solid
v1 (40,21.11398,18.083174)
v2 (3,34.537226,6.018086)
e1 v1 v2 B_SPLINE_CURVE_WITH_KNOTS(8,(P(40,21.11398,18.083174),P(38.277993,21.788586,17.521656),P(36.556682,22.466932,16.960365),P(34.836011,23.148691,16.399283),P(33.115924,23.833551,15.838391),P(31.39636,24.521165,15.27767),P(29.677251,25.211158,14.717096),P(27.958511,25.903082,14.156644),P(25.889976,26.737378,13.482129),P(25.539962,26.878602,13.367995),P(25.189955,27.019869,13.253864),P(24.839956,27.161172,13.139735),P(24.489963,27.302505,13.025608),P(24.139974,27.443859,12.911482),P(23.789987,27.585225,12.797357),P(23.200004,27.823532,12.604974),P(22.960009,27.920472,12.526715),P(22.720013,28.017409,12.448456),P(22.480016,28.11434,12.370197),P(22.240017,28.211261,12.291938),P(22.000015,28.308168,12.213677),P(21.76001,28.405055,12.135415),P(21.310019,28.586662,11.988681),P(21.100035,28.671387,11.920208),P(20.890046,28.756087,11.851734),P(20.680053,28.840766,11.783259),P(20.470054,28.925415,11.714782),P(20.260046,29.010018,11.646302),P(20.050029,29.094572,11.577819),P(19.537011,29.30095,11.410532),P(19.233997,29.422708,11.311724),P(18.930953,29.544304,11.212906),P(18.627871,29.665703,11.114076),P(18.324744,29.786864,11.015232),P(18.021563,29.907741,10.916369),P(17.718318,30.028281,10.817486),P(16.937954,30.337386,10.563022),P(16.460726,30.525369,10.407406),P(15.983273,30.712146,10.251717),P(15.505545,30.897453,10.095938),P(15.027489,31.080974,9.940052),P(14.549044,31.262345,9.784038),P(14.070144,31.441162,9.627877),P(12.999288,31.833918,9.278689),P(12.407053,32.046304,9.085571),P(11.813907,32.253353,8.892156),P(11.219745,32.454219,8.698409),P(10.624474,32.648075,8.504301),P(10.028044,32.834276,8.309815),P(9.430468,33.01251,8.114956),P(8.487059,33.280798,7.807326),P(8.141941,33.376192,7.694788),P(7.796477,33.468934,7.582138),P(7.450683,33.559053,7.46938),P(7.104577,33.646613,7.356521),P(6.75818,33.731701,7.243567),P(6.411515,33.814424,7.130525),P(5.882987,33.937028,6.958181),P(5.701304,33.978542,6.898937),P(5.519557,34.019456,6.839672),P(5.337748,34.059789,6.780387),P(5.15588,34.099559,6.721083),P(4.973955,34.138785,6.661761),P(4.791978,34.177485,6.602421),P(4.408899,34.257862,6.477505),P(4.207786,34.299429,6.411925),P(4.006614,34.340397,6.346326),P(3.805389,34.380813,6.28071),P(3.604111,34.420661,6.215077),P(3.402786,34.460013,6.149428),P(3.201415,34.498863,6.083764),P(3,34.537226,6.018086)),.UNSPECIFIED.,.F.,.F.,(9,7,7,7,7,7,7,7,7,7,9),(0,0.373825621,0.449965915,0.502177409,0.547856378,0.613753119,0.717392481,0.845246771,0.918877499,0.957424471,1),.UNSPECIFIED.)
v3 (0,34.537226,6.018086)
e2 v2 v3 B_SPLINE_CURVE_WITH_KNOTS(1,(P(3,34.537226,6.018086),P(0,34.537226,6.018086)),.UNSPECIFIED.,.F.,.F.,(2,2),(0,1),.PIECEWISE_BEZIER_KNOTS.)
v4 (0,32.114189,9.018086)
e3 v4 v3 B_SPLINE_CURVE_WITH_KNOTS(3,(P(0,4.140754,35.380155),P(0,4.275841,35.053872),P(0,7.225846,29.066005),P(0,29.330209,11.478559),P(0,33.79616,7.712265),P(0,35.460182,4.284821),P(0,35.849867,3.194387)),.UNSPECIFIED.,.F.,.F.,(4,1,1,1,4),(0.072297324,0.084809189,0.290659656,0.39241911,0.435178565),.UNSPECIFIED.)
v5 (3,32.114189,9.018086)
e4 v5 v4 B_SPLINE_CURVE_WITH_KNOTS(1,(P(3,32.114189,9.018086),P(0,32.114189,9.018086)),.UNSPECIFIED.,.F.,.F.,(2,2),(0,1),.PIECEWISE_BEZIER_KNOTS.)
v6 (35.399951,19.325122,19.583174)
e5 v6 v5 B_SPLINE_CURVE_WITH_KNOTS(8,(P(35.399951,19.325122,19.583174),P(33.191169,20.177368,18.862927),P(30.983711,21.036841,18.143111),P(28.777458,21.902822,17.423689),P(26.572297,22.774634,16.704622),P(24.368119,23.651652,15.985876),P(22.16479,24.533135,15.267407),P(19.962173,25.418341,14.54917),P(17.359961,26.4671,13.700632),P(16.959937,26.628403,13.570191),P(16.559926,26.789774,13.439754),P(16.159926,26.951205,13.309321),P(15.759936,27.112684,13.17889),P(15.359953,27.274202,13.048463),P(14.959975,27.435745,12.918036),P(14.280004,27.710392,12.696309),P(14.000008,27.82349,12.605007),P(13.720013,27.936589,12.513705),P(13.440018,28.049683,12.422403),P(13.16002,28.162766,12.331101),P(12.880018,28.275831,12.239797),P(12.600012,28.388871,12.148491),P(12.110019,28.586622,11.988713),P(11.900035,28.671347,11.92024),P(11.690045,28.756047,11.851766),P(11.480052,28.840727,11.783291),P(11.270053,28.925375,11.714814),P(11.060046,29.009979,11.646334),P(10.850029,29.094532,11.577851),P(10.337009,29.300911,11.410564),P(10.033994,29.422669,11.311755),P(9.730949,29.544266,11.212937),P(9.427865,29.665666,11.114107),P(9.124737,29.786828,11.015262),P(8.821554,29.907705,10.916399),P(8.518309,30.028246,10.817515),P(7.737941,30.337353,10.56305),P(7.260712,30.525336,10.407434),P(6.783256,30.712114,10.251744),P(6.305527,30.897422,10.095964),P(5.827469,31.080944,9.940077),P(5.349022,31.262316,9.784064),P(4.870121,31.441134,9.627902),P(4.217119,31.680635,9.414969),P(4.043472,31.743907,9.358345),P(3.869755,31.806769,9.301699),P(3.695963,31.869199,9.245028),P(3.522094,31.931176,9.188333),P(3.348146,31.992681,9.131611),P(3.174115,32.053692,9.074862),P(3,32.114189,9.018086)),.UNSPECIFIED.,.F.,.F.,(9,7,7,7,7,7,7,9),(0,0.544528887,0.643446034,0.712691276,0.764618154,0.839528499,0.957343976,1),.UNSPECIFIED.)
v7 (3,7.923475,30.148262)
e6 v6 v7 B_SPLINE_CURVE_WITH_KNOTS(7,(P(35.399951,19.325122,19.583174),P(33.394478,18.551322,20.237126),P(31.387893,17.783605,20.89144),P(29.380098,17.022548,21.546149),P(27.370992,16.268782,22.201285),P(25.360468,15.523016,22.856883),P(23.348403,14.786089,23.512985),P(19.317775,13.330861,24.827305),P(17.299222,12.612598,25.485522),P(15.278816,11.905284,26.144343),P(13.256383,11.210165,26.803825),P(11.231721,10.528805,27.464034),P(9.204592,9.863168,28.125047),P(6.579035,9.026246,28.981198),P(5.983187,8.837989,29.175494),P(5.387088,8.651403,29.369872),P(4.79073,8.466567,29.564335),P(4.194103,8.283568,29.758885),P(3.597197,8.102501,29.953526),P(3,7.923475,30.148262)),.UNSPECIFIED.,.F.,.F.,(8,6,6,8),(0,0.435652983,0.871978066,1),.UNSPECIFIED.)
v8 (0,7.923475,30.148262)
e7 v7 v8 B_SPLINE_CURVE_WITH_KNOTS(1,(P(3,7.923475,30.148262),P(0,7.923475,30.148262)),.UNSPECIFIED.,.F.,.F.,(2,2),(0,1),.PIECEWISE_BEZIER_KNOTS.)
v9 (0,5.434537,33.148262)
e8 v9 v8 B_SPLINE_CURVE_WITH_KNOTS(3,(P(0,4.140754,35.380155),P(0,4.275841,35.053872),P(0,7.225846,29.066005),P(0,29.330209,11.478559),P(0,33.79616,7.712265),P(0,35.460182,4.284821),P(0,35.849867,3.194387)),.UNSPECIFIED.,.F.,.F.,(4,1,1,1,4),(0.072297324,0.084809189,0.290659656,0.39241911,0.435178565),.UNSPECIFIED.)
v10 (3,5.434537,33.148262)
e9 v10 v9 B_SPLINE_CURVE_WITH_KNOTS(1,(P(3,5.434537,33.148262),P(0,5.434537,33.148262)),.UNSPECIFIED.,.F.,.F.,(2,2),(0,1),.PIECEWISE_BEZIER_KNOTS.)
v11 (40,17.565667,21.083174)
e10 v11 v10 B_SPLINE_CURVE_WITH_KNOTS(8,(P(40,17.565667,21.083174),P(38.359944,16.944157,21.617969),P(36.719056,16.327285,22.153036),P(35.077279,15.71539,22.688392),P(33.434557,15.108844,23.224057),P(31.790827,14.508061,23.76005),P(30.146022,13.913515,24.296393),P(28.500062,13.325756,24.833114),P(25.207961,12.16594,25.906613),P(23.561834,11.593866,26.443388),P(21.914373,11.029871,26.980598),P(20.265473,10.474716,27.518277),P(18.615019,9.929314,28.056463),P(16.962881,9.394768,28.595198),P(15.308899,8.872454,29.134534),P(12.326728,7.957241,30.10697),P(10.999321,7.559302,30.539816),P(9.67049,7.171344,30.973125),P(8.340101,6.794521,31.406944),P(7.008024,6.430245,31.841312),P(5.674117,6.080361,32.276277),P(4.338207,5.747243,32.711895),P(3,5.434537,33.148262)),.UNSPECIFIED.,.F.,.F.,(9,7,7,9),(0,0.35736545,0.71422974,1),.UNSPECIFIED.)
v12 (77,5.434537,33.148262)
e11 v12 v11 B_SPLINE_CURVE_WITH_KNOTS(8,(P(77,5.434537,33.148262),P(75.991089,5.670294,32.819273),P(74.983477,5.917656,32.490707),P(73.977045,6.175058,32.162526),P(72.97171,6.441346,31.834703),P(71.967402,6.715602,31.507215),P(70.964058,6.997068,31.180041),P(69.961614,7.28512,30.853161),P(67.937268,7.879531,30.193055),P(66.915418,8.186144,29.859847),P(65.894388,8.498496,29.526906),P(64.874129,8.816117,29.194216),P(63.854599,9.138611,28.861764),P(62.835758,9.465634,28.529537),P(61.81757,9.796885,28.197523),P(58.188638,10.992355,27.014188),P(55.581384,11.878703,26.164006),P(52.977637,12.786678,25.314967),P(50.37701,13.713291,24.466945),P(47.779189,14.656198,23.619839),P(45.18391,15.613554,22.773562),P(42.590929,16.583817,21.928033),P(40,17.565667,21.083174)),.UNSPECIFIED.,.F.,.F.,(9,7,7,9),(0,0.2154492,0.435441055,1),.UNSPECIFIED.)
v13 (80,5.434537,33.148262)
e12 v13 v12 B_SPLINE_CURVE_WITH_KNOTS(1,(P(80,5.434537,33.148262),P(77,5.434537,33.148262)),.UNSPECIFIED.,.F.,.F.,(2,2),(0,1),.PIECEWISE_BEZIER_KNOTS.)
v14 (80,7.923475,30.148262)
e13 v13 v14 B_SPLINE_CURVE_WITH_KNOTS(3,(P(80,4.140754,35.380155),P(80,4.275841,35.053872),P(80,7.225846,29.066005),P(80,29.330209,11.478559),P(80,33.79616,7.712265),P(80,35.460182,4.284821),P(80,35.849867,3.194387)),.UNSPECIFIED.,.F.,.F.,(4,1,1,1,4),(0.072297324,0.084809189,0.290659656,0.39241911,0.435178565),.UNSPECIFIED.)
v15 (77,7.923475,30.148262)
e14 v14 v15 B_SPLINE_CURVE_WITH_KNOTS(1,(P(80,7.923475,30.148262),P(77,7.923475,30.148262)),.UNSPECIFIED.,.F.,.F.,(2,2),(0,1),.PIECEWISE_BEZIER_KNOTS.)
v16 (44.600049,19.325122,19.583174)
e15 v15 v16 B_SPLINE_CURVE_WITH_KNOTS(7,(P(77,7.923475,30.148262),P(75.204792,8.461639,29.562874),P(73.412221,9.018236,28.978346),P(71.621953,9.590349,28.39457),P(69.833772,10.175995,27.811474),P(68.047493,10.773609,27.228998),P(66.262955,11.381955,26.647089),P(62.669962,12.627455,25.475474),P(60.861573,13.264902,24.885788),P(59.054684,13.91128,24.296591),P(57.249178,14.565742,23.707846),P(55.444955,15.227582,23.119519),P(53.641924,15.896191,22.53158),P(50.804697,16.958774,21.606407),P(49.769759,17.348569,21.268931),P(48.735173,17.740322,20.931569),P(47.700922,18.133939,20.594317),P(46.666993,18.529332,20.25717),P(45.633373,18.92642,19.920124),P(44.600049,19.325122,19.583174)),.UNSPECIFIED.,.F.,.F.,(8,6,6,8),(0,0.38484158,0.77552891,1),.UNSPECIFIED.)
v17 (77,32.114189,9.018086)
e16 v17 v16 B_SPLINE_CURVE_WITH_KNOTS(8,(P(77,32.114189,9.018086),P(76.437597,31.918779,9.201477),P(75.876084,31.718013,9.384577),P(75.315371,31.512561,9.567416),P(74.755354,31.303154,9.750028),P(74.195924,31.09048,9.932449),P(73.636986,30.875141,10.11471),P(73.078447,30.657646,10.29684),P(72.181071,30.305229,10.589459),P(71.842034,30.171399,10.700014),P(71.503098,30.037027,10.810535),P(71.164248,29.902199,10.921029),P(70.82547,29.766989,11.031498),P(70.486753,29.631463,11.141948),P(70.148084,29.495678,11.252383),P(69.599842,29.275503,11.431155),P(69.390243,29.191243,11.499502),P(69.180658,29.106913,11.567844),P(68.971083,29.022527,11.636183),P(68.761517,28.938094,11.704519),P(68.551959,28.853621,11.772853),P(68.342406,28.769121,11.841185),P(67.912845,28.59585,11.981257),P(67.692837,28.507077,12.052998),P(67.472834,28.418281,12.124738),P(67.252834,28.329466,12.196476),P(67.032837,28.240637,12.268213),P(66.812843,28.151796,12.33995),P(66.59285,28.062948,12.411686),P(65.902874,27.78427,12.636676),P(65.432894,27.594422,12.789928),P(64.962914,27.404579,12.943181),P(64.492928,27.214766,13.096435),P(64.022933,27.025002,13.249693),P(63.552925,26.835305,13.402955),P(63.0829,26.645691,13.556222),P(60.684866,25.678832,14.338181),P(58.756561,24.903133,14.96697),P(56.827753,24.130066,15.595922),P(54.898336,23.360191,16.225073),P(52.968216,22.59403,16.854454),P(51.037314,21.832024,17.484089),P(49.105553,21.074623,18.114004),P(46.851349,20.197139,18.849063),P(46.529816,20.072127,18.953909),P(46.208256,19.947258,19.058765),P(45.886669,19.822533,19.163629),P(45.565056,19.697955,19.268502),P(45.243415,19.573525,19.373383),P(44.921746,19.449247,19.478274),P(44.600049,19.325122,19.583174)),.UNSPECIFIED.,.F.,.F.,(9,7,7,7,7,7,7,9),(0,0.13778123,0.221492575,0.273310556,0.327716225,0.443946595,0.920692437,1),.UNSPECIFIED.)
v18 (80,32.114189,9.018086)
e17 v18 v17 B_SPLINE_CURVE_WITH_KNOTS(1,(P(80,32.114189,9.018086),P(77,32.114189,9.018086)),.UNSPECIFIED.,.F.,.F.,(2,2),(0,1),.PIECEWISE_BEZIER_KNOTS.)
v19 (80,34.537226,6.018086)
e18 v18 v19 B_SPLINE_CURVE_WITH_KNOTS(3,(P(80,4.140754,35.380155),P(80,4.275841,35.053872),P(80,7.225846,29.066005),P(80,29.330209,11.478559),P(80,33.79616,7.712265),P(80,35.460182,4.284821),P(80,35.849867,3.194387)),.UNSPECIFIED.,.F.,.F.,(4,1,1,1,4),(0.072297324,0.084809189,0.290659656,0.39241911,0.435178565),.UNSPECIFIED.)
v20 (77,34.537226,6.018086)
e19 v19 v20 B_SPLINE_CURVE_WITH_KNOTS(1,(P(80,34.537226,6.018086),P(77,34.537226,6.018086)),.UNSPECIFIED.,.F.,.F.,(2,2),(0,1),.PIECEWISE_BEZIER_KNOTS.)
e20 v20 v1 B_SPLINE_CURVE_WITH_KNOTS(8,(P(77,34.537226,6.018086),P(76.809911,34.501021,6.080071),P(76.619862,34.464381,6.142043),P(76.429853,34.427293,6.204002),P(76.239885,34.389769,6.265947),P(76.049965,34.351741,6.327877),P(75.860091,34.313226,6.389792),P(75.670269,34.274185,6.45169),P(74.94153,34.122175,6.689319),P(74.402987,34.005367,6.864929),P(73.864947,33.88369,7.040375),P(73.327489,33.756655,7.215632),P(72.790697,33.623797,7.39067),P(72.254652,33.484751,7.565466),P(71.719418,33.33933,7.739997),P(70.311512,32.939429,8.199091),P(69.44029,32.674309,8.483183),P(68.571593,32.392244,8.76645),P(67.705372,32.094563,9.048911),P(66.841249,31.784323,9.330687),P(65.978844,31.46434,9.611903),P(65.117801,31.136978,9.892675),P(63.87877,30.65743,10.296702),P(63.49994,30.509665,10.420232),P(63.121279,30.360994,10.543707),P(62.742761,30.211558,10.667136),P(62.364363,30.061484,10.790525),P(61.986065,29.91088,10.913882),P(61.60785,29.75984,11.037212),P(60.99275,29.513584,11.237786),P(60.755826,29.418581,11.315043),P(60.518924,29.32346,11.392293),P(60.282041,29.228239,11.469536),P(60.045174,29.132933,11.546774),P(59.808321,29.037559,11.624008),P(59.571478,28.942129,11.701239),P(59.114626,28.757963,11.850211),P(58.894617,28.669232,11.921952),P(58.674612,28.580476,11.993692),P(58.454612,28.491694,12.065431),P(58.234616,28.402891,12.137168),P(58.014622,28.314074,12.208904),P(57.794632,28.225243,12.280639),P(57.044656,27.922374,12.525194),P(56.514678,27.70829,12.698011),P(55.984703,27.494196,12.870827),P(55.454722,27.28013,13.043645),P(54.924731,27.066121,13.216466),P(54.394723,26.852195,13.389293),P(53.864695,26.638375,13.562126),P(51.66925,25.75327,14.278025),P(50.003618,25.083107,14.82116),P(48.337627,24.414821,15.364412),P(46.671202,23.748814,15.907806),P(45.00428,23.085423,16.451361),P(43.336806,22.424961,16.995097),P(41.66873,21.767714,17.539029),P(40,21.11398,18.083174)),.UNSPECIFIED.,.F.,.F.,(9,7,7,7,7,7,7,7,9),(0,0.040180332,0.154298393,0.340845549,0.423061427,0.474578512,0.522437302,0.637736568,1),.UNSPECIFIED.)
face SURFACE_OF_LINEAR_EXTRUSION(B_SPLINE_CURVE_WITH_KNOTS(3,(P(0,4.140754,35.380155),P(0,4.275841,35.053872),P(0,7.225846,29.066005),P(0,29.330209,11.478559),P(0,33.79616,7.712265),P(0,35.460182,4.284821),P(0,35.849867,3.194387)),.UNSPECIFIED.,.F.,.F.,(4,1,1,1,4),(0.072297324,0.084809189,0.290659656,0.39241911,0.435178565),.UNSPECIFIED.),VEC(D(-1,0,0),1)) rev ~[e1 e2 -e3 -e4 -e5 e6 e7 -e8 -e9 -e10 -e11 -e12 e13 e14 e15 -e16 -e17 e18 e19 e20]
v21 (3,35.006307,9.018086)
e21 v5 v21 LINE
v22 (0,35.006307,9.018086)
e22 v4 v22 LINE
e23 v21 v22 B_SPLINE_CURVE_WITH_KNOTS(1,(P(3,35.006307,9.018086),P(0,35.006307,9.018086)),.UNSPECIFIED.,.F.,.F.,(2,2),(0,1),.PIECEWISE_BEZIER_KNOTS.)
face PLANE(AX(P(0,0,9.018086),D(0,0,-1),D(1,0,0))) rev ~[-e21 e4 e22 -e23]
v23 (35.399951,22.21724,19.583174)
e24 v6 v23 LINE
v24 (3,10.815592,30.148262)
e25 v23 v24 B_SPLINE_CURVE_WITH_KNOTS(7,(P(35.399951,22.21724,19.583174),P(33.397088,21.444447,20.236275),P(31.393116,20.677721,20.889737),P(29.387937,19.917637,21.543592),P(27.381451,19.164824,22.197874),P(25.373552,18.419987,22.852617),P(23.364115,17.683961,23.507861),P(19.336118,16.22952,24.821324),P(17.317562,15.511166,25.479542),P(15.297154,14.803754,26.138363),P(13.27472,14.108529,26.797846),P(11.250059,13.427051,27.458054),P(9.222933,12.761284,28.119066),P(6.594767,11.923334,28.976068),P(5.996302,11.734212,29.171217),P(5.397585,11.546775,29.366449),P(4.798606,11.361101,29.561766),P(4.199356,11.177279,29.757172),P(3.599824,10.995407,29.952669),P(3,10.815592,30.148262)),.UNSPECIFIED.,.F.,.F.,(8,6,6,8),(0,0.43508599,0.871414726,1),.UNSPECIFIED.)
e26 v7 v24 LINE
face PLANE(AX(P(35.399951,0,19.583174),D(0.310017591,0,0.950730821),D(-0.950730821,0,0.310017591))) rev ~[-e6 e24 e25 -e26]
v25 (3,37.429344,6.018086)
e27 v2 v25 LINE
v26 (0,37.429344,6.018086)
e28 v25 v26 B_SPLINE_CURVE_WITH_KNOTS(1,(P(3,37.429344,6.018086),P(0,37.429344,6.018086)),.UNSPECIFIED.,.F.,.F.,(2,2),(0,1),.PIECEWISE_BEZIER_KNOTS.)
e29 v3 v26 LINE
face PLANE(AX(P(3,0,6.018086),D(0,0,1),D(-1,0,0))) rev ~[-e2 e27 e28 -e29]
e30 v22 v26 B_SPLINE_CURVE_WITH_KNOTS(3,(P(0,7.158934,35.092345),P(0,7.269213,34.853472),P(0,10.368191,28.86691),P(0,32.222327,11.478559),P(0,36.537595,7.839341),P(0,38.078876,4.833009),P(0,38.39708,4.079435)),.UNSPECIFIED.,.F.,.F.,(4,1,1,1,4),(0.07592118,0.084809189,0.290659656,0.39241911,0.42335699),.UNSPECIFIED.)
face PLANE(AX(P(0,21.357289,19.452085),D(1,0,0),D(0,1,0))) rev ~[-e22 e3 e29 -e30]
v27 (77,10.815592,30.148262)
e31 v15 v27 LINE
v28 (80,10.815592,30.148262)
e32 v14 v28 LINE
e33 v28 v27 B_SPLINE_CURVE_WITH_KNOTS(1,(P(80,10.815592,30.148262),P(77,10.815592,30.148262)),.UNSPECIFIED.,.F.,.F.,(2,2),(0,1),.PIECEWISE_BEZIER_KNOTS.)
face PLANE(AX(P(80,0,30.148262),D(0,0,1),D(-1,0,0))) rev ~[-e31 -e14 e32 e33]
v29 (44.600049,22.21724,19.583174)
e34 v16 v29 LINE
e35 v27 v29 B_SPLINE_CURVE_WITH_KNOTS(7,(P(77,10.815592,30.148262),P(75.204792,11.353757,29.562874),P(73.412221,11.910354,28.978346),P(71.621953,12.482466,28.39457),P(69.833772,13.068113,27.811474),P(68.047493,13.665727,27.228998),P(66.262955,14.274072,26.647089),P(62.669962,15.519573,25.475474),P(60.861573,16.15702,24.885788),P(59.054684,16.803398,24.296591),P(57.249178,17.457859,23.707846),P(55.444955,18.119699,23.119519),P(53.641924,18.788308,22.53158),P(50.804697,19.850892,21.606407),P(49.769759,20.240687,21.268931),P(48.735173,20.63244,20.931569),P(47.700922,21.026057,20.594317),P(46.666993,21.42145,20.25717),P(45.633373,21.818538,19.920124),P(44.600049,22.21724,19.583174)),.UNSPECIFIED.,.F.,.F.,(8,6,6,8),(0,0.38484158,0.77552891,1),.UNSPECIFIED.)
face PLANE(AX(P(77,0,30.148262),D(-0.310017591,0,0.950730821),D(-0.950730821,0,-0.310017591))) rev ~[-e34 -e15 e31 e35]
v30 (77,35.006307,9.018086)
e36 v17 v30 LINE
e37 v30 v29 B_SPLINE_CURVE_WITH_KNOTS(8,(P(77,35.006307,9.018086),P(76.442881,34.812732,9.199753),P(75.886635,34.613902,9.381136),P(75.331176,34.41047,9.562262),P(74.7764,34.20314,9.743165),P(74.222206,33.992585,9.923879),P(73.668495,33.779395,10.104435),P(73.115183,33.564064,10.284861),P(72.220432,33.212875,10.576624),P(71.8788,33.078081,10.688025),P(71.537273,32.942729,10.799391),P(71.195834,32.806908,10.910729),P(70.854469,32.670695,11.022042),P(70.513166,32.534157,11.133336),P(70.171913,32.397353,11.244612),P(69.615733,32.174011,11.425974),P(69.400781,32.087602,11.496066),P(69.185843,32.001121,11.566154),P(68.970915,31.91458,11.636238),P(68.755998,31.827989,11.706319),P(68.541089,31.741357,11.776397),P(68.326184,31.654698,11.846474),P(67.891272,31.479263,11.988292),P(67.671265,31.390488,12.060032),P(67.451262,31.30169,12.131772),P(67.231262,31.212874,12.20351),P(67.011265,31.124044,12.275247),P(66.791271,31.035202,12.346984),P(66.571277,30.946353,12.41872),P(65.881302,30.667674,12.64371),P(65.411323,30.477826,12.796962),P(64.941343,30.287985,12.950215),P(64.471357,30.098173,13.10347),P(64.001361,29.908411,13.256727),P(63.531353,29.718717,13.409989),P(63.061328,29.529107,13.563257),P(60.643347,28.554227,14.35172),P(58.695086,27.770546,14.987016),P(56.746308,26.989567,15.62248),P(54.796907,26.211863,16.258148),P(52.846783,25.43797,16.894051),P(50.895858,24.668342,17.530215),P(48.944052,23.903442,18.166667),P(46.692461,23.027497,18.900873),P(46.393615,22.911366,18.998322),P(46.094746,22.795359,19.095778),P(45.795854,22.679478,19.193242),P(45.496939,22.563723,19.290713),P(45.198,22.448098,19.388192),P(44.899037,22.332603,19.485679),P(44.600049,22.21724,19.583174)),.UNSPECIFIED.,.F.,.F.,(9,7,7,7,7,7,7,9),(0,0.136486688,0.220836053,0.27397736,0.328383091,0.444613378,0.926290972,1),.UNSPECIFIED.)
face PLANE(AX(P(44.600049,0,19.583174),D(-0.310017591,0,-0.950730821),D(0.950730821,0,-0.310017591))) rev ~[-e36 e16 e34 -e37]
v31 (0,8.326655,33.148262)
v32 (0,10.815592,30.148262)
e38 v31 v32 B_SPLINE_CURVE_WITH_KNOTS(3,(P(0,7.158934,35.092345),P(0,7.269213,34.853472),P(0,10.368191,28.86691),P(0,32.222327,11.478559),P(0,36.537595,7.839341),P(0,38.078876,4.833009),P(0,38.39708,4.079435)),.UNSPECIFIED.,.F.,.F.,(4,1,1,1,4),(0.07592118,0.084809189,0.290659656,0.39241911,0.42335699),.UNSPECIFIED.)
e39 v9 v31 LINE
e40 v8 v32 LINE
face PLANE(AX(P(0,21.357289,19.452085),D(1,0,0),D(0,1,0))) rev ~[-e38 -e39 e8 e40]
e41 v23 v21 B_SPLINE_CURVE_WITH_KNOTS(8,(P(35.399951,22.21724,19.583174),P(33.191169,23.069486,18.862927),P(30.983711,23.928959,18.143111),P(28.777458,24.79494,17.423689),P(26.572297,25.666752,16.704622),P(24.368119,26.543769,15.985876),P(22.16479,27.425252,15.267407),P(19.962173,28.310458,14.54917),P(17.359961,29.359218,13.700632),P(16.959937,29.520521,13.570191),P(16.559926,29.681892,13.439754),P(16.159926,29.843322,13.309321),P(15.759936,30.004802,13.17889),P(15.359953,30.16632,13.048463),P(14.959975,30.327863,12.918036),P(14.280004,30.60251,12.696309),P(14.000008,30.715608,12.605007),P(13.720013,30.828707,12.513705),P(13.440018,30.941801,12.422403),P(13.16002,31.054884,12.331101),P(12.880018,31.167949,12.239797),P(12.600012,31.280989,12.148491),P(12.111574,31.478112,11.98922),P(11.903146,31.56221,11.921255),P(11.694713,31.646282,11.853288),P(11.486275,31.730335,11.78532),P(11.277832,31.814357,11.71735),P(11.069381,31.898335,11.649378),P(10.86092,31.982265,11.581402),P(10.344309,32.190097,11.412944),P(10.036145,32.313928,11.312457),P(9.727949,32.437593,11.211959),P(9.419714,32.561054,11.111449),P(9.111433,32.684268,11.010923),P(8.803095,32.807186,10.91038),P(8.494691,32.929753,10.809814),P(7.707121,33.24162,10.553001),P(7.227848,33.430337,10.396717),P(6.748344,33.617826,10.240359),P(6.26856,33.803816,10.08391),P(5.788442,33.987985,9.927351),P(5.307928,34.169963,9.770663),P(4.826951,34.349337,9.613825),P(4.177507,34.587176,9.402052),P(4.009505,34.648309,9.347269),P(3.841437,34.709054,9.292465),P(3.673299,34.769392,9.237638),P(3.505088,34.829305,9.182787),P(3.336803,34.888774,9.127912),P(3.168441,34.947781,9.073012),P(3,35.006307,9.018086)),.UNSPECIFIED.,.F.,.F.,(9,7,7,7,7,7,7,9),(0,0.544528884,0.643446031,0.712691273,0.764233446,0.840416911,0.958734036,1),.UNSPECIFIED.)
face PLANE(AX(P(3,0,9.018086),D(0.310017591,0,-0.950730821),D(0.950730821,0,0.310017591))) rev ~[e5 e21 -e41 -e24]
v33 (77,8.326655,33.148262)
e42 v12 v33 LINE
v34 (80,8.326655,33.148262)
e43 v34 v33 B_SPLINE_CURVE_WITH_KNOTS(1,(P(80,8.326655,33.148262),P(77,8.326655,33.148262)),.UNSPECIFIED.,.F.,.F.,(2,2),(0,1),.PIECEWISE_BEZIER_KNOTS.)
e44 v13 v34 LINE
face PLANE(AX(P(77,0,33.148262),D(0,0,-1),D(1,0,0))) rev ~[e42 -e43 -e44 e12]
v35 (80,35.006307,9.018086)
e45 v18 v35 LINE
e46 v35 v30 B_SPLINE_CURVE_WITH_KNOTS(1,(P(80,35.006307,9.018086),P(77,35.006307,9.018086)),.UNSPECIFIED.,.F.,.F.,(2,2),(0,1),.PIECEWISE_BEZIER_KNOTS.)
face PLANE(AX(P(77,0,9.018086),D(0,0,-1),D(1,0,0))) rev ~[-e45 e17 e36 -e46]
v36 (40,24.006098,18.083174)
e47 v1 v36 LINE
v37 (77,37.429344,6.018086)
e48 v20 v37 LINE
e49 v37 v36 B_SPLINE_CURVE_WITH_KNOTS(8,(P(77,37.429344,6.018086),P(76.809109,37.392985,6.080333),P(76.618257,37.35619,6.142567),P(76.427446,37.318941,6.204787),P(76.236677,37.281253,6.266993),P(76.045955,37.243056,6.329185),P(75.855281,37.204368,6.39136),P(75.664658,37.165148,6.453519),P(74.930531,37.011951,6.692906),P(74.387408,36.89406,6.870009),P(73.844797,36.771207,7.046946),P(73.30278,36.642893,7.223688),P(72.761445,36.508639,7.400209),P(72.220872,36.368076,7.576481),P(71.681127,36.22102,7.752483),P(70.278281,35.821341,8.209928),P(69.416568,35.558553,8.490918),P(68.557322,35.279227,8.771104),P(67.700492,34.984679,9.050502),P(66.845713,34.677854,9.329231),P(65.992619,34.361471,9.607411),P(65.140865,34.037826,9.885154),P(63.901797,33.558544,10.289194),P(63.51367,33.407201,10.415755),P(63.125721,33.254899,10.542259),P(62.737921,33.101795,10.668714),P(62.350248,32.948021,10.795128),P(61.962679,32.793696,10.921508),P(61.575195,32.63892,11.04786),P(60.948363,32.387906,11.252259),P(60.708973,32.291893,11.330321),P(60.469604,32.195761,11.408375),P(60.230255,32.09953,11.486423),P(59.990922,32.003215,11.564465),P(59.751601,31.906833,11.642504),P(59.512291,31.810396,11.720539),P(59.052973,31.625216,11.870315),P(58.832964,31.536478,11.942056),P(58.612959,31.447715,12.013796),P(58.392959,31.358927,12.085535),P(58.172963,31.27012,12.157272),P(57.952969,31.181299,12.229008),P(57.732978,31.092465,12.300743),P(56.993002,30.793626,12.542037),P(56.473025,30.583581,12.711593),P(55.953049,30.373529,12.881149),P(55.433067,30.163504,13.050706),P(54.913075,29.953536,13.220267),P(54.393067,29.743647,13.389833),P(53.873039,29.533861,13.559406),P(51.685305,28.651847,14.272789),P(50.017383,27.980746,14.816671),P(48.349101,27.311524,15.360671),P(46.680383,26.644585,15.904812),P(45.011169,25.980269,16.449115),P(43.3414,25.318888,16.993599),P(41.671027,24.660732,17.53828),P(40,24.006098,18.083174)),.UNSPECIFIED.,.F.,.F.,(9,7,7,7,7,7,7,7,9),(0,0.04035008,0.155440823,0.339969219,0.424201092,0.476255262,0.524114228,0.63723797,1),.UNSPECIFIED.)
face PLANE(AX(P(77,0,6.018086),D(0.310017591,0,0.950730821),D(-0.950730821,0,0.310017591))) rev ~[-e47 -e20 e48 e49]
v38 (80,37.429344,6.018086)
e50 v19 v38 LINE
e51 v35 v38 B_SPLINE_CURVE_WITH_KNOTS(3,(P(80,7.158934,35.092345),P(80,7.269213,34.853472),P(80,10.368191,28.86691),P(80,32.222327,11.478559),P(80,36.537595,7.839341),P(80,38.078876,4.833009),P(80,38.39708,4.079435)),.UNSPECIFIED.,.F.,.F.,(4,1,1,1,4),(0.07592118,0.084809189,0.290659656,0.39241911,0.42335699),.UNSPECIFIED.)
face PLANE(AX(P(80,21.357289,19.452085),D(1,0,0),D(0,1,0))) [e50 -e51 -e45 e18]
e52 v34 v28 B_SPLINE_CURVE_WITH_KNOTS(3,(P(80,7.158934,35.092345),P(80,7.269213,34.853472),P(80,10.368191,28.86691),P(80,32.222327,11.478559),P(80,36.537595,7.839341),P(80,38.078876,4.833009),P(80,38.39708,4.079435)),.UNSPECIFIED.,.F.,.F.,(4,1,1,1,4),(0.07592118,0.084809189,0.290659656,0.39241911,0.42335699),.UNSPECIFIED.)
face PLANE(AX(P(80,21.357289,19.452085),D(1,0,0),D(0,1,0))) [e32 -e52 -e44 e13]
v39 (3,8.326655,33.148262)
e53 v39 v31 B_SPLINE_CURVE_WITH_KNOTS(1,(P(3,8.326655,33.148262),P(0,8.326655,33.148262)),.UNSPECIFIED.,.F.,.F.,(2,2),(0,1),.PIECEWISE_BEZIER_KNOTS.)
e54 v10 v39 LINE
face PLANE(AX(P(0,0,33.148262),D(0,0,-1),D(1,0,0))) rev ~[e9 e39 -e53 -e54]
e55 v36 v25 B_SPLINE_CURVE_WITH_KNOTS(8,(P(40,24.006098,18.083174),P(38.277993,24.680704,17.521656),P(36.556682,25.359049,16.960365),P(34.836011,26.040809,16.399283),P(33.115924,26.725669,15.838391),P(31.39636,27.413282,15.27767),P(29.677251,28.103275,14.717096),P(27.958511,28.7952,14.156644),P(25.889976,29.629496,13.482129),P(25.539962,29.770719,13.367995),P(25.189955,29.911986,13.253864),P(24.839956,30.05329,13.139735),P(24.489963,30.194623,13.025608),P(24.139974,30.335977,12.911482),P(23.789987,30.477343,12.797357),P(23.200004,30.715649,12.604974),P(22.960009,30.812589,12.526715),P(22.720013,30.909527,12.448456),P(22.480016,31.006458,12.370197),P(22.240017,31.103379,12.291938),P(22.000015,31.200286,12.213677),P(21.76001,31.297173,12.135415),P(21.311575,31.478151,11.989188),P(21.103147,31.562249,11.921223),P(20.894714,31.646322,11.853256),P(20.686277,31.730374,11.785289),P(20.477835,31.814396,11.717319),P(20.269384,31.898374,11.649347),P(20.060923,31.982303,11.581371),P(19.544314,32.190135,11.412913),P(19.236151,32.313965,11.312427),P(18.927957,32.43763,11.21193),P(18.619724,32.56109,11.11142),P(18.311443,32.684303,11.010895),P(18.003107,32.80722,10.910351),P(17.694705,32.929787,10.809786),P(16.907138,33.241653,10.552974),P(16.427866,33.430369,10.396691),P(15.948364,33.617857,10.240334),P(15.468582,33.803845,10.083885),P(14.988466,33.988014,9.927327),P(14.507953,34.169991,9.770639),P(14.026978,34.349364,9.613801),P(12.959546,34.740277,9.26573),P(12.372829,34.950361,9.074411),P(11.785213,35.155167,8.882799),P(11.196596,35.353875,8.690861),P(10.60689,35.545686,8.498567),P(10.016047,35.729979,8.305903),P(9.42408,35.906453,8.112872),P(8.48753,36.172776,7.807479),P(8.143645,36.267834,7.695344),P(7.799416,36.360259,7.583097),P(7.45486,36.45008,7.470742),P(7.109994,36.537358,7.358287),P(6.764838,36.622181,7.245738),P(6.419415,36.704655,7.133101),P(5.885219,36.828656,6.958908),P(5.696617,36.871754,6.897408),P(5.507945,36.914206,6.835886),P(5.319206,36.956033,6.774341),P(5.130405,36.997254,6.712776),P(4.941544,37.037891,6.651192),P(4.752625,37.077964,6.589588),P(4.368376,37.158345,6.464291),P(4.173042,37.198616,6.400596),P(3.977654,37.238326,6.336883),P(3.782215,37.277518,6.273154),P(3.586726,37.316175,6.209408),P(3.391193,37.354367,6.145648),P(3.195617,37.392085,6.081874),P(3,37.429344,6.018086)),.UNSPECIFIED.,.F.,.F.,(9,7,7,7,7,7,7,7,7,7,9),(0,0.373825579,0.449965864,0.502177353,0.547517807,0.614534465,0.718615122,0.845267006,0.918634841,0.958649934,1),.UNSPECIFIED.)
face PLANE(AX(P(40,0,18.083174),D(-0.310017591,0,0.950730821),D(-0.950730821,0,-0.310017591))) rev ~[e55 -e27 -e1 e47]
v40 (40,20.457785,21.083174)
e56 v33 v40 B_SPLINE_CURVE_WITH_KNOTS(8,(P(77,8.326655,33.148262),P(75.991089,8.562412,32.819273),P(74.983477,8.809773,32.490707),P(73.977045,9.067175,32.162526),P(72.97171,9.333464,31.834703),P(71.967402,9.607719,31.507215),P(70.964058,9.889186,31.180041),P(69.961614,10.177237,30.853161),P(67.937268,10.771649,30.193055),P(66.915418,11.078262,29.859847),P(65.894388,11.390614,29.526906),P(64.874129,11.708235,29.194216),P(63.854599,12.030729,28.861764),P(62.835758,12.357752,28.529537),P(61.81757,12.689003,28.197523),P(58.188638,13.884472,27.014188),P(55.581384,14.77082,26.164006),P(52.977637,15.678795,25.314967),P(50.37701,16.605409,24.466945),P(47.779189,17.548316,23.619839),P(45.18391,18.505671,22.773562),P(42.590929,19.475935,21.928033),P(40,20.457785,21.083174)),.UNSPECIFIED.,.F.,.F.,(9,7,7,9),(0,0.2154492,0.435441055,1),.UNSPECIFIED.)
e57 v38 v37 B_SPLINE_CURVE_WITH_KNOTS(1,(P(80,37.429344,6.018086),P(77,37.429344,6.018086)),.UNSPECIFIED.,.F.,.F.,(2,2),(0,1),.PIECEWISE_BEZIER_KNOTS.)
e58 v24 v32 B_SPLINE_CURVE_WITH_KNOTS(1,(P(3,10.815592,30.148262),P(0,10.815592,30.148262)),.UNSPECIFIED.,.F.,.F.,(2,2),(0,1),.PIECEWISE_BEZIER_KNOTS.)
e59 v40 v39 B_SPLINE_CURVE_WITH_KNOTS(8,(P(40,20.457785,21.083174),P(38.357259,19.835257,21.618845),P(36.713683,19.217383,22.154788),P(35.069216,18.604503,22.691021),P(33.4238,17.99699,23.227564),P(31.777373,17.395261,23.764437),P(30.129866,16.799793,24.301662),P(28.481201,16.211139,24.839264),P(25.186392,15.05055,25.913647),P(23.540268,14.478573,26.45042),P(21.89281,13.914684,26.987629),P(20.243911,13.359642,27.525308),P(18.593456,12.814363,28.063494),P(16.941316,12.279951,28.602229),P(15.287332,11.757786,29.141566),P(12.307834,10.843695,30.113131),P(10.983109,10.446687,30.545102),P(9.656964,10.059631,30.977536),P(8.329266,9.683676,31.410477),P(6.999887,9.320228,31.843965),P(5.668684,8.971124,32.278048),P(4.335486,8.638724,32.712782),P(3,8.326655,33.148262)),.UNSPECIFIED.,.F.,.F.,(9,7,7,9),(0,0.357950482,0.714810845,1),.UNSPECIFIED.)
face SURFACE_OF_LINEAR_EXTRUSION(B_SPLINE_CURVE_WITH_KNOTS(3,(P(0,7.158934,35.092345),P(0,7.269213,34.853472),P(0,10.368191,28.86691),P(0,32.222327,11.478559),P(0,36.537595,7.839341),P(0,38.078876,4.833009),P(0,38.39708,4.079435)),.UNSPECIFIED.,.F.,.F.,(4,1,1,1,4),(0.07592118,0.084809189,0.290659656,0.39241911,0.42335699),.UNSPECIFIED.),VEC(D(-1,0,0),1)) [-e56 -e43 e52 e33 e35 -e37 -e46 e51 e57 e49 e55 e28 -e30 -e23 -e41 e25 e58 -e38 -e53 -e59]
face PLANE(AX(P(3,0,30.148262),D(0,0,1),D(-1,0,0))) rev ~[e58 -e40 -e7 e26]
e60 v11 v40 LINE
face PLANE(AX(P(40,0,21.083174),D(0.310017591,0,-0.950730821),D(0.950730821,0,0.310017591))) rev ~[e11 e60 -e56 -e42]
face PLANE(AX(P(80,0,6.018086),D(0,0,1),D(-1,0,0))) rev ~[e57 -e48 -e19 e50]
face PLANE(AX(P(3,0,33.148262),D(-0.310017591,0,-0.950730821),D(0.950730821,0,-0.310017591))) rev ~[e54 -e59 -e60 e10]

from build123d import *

# Parameters (mm, degrees)
F1_DEPTH = 80
F2_W     = 115.2630522847
F2_H     = 63.0402415991
F3_DEPTH = 50


with BuildPart() as f1:
    # F0 (on Right) → F1 (new body)
    with BuildSketch(Plane.YZ):
        with BuildLine():
            add(Edge.make_bspline(
                [(4.1407536375, 35.3801552647), (4.2758405627, 35.0538718719), (7.2258461835, 29.0660046135), (29.3302090847, 11.4785589747), (33.7961603555, 7.7122646756), (35.460181914, 4.2848211133), (35.8498667485, 3.1943865861)],
                knots=[0.0722973238, 0.0722973238, 0.0722973238, 0.0722973238, 0.0848091888, 0.2906596564, 0.3924191098, 0.4351785649, 0.4351785649, 0.4351785649, 0.4351785649], degree=3))
            Line((35.8498667485, 3.1943865861), (38.397080011, 4.0794351968))
            add(Edge.make_bspline(
                [(7.1589336367, 35.0923453365), (7.2692126818, 34.8534723334), (10.3681905457, 28.8669104967), (32.2223267398, 11.4785589747), (36.5375953872, 7.8393406492), (38.078875768, 4.8330086497), (38.397080011, 4.0794351968)],
                knots=[0.0759211795, 0.0759211795, 0.0759211795, 0.0759211795, 0.0848091888, 0.2906596564, 0.3924191098, 0.4233569902, 0.4233569902, 0.4233569902, 0.4233569902], degree=3))
            Line((7.1589336367, 35.0923453365), (4.1407536375, 35.3801552647))
        make_face()
    extrude(amount=F1_DEPTH)

    # F2 (on Front) → F3 (cut)
    with BuildSketch(Plane.XZ):
        with Locations((41.0025008023, 15.8190391958)):
            Rectangle(F2_W, F2_H)
        Polygon((0, 30.1482619814), (0, 33.1482619814), (3, 33.1482619814), (40, 21.0831741459), (77, 33.1482619814), (80, 33.1482619814), (80, 30.1482619814), (77, 30.1482619814), (44.6000493951, 19.5831741459), (77, 9.0180863104), (80, 9.0180863104), (80, 6.0180863104), (77, 6.0180863104), (40, 18.0831741459), (3, 6.0180863104), (0, 6.0180863104), (0, 9.0180863104), (3, 9.0180863104), (35.3999506049, 19.5831741459), (3, 30.1482619814), align=None, mode=Mode.SUBTRACT)
    extrude(amount=-F3_DEPTH, mode=Mode.SUBTRACT)


solid = f1.part
